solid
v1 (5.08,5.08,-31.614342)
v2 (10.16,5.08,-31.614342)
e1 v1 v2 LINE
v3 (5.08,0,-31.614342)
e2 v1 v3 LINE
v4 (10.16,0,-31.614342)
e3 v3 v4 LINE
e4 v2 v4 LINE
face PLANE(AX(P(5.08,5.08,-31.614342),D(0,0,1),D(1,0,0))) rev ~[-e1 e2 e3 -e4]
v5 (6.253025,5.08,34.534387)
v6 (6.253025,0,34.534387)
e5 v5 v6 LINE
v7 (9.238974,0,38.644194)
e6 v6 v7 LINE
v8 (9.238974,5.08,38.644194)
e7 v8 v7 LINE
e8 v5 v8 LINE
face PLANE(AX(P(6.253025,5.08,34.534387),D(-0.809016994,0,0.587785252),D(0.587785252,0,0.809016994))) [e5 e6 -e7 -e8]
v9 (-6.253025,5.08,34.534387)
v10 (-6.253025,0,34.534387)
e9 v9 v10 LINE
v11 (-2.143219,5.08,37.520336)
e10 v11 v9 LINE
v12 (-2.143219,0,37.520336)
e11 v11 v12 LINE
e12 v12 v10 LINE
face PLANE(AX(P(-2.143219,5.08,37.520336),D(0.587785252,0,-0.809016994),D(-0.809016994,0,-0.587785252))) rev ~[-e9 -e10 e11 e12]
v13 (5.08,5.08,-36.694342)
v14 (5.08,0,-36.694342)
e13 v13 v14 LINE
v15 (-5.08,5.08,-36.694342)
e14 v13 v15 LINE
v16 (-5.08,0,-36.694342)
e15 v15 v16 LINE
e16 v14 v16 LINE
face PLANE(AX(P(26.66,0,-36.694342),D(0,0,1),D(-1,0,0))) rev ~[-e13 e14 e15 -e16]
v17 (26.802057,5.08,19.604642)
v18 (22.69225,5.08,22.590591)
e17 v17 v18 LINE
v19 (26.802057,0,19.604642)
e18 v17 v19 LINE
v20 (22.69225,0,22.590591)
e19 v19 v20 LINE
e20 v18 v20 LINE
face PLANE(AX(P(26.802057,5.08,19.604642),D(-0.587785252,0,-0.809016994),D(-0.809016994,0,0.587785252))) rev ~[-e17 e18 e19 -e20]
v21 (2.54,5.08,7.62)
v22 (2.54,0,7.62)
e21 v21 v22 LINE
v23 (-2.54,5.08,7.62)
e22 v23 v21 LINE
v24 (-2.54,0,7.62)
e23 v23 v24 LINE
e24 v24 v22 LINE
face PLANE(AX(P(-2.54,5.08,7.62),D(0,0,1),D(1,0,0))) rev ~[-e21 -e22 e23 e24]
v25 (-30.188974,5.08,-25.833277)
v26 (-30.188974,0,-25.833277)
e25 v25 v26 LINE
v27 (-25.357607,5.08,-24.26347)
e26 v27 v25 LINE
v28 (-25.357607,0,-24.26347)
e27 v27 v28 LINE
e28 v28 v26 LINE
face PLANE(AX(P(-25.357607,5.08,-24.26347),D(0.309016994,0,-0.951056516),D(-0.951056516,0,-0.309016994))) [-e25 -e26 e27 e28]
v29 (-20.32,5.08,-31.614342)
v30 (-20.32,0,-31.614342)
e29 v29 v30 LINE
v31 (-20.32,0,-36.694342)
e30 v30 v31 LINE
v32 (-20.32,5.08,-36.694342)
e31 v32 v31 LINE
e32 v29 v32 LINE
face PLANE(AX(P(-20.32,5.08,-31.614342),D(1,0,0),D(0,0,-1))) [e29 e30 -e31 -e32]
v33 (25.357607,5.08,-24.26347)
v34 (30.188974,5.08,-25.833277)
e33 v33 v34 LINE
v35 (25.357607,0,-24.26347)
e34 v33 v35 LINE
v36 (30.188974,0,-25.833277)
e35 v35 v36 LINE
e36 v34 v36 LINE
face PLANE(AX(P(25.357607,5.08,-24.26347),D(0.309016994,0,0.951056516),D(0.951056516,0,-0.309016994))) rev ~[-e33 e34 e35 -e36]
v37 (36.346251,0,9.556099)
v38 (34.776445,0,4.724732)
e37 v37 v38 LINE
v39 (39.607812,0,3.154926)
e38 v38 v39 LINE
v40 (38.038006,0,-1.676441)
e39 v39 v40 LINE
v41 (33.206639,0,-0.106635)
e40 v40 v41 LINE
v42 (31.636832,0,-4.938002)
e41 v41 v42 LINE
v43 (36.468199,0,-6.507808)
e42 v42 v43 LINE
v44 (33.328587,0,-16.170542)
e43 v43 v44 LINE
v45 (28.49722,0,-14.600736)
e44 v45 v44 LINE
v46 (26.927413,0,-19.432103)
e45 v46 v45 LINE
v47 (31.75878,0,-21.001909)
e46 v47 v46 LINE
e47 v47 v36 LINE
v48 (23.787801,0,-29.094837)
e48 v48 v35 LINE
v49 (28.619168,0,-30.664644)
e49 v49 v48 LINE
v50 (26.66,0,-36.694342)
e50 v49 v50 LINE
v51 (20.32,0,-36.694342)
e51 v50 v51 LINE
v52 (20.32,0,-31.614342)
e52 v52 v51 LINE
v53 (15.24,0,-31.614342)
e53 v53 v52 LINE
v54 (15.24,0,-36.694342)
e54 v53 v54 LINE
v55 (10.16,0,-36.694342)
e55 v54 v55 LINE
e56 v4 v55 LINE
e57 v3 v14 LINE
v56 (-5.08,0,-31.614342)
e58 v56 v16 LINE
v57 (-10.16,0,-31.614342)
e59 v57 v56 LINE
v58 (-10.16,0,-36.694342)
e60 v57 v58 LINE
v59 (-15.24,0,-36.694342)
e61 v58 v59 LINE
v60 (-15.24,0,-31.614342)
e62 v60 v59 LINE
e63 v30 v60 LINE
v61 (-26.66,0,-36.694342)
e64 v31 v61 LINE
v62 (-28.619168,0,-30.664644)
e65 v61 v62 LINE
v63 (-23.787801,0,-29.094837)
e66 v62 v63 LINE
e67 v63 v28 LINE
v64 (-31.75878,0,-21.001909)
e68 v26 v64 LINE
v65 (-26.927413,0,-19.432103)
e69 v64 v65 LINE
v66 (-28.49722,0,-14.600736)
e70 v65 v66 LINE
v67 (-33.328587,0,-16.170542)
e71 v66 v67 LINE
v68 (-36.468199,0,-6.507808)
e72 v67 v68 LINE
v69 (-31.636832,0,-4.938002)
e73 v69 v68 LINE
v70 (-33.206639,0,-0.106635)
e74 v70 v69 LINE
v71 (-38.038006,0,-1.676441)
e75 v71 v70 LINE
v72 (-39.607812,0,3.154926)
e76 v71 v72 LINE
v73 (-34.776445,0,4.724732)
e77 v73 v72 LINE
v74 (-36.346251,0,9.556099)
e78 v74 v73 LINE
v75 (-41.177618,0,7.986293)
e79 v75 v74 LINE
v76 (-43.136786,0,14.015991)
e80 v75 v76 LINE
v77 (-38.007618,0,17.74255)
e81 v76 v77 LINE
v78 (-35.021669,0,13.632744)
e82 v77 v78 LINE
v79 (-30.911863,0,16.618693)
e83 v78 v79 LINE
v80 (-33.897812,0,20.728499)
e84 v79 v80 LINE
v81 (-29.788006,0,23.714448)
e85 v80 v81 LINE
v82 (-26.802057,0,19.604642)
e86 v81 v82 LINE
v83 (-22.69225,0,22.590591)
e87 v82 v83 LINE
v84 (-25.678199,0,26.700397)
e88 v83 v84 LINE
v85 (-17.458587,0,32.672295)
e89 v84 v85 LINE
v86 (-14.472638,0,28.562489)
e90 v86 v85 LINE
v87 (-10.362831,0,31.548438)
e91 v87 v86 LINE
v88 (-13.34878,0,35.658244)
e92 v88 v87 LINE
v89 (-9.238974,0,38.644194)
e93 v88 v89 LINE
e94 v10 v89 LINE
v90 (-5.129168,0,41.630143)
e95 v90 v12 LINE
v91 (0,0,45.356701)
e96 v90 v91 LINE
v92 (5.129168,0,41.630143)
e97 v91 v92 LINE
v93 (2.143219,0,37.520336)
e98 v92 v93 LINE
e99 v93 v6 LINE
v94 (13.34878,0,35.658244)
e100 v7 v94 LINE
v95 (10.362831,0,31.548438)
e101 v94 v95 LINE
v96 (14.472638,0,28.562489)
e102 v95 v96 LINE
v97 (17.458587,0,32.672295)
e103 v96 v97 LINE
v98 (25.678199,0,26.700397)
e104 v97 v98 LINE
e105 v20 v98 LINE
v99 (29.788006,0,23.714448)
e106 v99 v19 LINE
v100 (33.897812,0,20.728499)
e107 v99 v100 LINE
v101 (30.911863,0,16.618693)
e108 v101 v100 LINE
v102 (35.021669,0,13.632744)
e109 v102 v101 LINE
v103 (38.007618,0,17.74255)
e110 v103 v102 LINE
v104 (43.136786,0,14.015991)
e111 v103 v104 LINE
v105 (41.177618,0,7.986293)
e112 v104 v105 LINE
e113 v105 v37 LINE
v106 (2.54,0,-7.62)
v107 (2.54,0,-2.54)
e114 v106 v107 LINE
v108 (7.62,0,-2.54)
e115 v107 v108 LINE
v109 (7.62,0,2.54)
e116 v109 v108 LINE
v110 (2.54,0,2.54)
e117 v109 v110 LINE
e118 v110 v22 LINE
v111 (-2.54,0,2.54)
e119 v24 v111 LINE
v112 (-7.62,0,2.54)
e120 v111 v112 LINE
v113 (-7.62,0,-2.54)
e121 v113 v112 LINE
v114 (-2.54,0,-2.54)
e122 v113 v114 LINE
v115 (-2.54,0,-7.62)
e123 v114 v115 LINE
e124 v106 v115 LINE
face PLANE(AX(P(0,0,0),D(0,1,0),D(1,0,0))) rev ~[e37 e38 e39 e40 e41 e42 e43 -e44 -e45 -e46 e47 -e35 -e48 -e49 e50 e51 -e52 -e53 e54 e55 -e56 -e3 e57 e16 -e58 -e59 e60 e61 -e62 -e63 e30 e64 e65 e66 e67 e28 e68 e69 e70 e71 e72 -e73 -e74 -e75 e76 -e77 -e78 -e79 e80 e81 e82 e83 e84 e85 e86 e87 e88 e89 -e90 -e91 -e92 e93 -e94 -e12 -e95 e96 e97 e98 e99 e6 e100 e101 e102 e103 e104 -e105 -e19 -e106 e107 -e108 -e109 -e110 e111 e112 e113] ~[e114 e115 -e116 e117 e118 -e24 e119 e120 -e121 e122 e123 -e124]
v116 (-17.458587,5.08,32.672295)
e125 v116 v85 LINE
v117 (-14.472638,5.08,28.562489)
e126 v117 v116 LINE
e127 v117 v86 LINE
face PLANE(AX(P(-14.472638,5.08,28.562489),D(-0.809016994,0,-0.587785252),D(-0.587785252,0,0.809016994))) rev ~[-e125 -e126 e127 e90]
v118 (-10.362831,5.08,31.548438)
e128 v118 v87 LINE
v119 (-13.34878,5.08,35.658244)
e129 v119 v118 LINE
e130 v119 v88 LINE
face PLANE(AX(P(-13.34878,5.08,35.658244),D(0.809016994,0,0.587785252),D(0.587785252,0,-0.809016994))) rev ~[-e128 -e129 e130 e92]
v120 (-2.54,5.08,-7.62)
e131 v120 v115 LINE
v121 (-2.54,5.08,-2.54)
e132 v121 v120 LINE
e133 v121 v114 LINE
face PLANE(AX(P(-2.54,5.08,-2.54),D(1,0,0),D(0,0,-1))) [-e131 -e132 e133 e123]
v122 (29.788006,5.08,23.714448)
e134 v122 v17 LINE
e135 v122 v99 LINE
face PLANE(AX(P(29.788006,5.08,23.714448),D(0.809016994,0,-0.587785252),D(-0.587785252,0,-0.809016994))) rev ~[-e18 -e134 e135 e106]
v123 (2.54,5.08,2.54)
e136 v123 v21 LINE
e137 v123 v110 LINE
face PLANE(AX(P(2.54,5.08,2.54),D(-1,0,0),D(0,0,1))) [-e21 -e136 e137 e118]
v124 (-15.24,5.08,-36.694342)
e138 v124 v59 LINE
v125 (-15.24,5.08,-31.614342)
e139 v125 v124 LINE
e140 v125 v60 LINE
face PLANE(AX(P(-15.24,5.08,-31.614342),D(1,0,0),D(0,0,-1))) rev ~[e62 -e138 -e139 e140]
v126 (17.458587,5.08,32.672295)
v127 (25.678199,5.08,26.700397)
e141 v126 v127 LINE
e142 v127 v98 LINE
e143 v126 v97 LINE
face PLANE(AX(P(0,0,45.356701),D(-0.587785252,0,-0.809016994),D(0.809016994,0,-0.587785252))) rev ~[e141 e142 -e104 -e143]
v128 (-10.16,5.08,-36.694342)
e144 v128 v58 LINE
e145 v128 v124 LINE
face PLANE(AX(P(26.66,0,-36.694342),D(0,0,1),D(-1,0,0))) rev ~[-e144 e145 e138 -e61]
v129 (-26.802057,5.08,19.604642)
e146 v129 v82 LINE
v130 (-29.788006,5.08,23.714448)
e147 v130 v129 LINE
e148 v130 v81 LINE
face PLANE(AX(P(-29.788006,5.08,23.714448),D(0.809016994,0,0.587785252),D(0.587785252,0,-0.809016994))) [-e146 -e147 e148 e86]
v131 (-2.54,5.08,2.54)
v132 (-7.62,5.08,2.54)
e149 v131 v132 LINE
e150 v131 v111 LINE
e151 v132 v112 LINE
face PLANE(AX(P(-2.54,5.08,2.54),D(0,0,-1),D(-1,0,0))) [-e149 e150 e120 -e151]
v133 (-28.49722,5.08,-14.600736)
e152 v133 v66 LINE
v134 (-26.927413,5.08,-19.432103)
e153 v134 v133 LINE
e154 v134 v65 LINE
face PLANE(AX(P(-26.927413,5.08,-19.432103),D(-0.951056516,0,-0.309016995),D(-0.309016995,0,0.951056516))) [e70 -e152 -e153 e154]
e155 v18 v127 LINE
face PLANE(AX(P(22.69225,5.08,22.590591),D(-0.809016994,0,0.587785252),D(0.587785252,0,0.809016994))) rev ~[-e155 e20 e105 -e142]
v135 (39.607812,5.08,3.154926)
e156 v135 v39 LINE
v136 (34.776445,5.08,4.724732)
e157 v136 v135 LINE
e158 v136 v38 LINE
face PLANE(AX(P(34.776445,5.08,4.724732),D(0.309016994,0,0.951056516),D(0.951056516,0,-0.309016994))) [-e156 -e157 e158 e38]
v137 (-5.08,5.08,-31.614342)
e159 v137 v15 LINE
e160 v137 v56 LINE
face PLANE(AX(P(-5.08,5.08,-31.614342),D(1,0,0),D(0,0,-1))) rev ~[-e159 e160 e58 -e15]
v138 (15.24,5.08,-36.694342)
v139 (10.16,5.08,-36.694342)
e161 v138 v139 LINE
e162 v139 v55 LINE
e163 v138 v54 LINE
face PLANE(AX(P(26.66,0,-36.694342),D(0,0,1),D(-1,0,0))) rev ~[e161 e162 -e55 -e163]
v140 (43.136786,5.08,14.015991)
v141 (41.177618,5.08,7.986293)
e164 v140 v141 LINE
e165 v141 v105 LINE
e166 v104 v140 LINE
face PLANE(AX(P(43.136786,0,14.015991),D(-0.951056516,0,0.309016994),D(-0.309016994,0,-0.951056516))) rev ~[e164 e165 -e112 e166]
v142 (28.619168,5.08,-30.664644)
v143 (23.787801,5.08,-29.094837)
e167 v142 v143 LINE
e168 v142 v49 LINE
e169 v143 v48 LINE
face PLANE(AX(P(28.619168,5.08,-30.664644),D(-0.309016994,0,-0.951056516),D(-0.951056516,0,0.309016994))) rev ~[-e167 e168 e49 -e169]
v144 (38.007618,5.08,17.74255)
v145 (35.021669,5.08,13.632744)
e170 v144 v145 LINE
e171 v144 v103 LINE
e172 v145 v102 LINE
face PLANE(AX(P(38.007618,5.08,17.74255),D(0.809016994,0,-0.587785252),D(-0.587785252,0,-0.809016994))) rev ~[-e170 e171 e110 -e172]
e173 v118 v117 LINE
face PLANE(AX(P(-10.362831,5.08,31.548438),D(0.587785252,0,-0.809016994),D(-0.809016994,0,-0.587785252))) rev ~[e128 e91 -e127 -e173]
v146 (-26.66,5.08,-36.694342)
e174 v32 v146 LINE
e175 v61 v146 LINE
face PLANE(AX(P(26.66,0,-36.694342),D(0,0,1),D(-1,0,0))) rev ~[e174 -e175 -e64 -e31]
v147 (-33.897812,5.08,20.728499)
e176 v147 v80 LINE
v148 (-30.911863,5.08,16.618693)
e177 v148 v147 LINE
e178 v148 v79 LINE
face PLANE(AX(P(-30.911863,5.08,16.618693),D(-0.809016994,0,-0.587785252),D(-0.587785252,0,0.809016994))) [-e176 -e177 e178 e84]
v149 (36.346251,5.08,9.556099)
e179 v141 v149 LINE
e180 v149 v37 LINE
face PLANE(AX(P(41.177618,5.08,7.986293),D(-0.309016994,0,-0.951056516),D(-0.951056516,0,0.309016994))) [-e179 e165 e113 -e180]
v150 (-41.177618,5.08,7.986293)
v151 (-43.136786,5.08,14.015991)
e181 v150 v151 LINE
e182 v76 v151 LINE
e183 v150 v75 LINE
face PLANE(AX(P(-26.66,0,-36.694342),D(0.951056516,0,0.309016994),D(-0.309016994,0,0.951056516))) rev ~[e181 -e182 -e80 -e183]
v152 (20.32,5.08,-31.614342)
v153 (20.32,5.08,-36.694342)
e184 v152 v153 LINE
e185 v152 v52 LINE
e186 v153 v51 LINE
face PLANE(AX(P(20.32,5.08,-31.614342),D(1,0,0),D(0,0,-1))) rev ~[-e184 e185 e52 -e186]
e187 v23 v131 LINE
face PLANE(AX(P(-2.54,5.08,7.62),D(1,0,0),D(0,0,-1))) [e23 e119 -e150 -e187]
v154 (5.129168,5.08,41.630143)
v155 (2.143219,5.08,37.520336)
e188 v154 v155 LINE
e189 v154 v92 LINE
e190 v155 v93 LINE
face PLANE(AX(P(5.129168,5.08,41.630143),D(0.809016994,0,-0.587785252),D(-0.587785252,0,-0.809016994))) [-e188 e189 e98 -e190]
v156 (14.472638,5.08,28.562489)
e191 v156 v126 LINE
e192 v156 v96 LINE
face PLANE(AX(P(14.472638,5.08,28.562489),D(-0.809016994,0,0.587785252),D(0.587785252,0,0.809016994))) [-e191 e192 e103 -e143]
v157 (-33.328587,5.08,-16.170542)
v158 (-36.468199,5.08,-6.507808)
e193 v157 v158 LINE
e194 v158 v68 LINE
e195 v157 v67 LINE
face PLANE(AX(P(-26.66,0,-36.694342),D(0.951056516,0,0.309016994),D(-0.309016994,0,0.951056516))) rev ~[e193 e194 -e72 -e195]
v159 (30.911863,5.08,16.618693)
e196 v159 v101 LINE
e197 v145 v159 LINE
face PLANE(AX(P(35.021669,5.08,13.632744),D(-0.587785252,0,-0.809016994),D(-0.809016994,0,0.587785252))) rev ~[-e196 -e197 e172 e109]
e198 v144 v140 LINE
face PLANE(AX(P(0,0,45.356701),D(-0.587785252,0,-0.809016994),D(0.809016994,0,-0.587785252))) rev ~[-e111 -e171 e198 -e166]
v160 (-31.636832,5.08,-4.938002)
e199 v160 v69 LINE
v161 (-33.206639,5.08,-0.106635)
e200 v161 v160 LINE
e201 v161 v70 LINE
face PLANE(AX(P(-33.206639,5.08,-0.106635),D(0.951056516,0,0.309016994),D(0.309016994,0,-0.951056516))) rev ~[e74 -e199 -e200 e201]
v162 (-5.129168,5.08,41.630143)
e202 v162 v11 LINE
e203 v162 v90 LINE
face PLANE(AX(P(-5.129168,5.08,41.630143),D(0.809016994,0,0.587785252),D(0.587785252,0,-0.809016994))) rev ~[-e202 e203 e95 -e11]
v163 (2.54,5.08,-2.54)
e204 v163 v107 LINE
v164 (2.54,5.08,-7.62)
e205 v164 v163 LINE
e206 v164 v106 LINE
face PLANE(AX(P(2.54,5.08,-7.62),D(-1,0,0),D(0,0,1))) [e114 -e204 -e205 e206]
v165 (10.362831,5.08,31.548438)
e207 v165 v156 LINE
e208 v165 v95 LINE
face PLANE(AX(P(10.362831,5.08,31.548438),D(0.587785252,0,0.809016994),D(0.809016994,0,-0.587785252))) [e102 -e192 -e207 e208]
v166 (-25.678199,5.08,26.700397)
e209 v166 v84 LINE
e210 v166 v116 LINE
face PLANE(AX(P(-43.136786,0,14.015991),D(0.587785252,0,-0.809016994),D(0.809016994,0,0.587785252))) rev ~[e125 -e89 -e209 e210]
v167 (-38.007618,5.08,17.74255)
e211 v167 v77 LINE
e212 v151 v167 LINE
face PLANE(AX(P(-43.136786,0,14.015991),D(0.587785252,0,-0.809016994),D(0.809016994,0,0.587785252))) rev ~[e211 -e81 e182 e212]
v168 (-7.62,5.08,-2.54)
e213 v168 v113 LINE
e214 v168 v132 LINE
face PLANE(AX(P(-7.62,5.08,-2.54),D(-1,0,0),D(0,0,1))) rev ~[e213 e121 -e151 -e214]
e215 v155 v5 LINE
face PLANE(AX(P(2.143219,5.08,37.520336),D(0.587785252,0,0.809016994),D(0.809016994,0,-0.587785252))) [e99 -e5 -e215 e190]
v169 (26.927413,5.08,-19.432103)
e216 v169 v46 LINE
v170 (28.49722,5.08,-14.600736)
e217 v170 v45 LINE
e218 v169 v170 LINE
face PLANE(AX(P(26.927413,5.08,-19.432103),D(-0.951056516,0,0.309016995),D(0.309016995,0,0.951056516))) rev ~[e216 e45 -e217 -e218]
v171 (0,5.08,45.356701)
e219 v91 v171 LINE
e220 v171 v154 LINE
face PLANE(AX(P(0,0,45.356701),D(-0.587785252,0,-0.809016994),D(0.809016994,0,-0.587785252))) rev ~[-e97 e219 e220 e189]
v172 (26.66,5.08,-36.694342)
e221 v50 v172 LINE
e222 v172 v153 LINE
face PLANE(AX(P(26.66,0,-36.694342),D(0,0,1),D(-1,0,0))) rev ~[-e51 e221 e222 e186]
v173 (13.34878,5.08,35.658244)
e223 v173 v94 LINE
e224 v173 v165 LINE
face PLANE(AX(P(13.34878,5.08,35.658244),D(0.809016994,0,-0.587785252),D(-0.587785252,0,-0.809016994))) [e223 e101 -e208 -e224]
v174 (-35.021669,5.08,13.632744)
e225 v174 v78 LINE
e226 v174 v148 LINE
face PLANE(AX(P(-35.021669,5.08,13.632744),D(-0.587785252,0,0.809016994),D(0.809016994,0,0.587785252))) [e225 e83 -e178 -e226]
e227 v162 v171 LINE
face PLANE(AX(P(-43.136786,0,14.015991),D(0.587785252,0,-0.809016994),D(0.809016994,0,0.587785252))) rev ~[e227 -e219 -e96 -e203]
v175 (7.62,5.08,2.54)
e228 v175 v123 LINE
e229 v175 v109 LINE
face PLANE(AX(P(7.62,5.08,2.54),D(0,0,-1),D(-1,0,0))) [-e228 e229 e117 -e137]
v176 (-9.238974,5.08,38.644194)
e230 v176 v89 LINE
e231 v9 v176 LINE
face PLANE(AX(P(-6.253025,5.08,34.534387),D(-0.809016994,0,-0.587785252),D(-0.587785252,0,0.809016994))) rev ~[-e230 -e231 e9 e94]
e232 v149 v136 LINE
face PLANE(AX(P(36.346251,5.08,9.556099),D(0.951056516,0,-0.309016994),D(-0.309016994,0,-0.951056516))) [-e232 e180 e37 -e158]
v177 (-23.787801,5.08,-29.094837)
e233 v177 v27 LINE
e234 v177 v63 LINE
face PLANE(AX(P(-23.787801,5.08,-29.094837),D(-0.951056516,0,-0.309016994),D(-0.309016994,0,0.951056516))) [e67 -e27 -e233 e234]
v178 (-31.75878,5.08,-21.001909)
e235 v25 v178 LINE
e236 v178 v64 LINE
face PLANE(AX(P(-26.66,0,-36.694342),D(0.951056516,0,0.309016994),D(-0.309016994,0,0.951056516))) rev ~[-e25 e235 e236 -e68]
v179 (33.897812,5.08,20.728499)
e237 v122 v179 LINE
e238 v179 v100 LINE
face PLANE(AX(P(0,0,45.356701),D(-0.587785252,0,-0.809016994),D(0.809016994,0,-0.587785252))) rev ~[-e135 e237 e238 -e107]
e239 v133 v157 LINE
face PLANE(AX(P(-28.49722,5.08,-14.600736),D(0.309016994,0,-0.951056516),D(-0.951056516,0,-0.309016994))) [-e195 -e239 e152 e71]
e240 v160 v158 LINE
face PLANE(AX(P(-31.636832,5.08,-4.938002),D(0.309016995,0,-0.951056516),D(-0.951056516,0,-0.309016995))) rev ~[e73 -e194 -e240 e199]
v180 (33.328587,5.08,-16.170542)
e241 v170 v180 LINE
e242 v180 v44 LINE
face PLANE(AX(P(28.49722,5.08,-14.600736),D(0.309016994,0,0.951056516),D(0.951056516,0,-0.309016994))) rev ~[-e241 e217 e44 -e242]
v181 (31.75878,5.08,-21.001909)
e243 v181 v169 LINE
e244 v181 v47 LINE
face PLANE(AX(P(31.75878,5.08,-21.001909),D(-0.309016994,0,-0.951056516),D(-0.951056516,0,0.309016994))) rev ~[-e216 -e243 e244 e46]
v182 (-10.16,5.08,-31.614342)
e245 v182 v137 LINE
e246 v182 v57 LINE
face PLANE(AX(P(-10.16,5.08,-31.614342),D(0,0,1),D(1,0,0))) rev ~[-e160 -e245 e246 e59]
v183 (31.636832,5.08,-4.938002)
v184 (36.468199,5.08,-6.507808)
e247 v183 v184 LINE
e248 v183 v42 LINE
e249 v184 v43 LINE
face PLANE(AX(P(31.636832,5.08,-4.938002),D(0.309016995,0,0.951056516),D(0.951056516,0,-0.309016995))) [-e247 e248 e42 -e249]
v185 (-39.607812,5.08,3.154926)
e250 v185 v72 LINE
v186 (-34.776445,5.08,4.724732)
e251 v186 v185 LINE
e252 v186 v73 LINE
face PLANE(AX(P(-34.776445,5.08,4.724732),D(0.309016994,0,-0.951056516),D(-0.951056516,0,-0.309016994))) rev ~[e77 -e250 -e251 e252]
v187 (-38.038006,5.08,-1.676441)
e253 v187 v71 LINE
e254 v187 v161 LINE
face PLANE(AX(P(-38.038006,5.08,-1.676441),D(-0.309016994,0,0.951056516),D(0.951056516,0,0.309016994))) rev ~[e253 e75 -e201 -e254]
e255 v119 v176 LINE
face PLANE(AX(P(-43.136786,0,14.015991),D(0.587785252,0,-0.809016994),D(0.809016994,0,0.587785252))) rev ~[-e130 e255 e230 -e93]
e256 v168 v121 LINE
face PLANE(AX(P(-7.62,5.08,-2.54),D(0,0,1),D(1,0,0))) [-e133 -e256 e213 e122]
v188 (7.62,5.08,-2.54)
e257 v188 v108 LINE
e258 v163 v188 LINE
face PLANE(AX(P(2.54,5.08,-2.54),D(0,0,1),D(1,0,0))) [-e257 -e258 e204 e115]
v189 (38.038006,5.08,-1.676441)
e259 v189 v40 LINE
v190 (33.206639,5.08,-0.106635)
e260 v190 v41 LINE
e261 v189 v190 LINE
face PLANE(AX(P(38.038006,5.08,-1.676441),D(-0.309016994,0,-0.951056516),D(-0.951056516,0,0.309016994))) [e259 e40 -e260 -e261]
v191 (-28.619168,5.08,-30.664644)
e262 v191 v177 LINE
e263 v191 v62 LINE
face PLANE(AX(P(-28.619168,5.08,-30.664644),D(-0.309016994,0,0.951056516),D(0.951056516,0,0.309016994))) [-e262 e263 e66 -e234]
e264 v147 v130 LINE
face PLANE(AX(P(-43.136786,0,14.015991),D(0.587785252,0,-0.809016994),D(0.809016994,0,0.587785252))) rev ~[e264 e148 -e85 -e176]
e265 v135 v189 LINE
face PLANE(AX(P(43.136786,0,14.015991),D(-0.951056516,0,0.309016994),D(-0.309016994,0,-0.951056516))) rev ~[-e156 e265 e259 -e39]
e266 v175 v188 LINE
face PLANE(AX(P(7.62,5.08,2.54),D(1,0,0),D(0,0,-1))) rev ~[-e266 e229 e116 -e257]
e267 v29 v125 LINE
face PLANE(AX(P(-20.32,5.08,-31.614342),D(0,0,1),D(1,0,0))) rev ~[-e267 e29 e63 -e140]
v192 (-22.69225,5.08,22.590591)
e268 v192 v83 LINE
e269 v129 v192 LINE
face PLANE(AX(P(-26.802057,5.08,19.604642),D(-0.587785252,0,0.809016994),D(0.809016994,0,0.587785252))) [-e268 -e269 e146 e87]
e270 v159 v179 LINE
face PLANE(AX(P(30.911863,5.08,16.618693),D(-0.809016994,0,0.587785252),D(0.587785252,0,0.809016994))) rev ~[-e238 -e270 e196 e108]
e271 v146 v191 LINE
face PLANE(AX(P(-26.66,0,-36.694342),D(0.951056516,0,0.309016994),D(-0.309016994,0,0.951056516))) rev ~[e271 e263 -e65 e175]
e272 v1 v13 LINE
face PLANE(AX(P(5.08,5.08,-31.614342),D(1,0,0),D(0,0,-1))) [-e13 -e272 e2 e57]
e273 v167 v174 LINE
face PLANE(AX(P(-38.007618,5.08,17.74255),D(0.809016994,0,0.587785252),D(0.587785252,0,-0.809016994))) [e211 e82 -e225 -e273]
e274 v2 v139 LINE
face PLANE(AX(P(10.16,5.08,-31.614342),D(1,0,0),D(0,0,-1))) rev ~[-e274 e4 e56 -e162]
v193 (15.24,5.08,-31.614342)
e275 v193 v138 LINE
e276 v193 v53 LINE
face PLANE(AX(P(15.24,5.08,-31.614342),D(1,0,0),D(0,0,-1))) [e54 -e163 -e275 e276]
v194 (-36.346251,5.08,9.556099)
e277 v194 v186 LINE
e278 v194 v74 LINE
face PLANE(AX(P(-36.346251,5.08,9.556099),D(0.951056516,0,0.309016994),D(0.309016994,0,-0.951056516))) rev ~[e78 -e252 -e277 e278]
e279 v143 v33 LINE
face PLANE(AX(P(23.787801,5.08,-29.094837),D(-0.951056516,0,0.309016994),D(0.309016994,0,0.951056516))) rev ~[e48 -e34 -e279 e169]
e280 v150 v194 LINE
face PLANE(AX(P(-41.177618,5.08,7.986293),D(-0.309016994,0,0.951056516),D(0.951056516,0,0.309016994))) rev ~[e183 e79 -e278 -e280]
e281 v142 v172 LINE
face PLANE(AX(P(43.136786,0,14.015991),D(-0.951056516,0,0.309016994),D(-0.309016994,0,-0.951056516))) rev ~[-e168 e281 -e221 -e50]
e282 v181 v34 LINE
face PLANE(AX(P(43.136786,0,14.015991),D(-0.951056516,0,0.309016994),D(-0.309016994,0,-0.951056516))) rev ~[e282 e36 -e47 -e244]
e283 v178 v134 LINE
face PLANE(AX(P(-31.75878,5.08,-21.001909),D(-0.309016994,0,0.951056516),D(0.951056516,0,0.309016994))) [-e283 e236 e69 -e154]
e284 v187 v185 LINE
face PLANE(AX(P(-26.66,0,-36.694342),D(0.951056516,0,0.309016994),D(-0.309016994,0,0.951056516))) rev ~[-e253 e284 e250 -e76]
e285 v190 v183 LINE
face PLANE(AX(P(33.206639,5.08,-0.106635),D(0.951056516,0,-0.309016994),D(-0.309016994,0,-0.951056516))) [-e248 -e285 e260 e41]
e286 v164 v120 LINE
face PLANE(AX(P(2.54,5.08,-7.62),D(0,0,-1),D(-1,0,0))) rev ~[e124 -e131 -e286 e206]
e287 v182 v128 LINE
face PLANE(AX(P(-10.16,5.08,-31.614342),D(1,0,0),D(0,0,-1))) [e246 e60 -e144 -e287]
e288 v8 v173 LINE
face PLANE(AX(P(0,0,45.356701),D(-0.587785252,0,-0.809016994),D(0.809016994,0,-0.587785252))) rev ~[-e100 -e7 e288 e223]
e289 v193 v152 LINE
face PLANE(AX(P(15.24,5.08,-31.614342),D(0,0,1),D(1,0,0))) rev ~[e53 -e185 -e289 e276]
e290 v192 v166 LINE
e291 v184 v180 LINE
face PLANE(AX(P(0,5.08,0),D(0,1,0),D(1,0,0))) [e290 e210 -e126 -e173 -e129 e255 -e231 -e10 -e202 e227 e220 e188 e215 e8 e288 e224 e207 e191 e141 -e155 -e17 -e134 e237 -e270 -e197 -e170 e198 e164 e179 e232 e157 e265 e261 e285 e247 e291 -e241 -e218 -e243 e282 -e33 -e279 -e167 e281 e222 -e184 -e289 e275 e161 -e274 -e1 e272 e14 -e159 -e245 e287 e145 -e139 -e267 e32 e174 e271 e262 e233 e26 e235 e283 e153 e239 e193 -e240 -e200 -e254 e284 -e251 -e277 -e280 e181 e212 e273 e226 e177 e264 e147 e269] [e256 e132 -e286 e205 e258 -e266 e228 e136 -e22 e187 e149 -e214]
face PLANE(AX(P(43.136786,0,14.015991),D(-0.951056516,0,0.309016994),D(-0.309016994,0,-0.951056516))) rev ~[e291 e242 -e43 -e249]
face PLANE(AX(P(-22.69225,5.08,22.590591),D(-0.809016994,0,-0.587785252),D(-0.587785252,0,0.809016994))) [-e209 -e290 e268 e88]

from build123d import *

# Parameters (mm, degrees)
BOSS_EXTRUDE1_DEPTH = 5.08
SKETCH2_W           = 5.08
SKETCH2_H           = 5.08
CUT_EXTRUDE1_DEPTH  = 5.08
CUT_EXTRUDE2_DEPTH  = 5.08


with BuildPart() as part:
    # Sketch1 → Boss-Extrude1 (new body)
    with BuildSketch(Plane(origin=(0, 0, 0), x_dir=(1, 0, 0), z_dir=(0, 1, 0))):
        Polygon((0, -45.356701101), (43.13678614, -14.015991449), (26.66, 36.694342), (-26.66, 36.694342), (-43.13678614, -14.015991449), align=None)
    extrude(amount=BOSS_EXTRUDE1_DEPTH)

    # Sketch2 → Cut-Extrude1 (cut)
    with BuildSketch(Plane(origin=(0, 5.08, 0), x_dir=(1, 0, 0), z_dir=(0, 1, 0))):
        with Locations((-17.78, 34.154342)):
            Rectangle(SKETCH2_W, SKETCH2_H)
        with Locations((7.62, 34.154342)):
            Rectangle(SKETCH2_W, SKETCH2_H)
        with Locations((17.78, 34.154342)):
            Rectangle(SKETCH2_W, SKETCH2_H)
        with Locations((-7.62, 34.154342)):
            Rectangle(SKETCH2_W, SKETCH2_H)
        Polygon((28.619167744, 30.664643686), (23.787800642, 29.094837355), (25.357606973, 24.263470252), (30.188974076, 25.833276584), align=None)
        Polygon((36.468199401, 6.507808173), (38.038005733, 1.67644107), (33.20663863, 0.106634738), (31.636832299, 4.938001841), align=None)
        Polygon((39.607812064, -3.154926033), (41.177618396, -7.986293136), (36.346251293, -9.556099467), (34.776444962, -4.724732364), align=None)
        Polygon((31.758780407, 21.001909481), (26.927413304, 19.432103149), (28.497219636, 14.600736047), (33.328586739, 16.170542378), align=None)
        Polygon((38.007618396, -17.742549949), (35.021669314, -13.632743617), (30.911862983, -16.618692699), (33.897812064, -20.72849903), align=None)
        Polygon((17.458586739, -32.672295357), (13.348780407, -35.658244439), (10.362831326, -31.548438107), (14.472637657, -28.562489025), align=None)
        Polygon((9.238974076, -38.64419352), (5.129167744, -41.630142602), (2.143218663, -37.52033627), (6.253024994, -34.534387189), align=None)
        Polygon((29.788005733, -23.714448112), (26.802056651, -19.60464178), (22.69225032, -22.590590862), (25.678199401, -26.700397194), align=None)
        Polygon((-5.129167744, -41.630142602), (-2.143218663, -37.52033627), (-6.253024994, -34.534387189), (-9.238974076, -38.64419352), align=None)
        Polygon((-25.678199401, -26.700397194), (-29.788005733, -23.714448112), (-26.802056651, -19.60464178), (-22.69225032, -22.590590862), align=None)
        Polygon((-33.897812064, -20.72849903), (-38.007618396, -17.742549949), (-35.021669314, -13.632743617), (-30.911862983, -16.618692699), align=None)
        Polygon((-13.348780407, -35.658244439), (-10.362831326, -31.548438107), (-14.472637657, -28.562489025), (-17.458586739, -32.672295357), align=None)
        Polygon((-41.177618396, -7.986293136), (-36.346251293, -9.556099467), (-34.776444962, -4.724732364), (-39.607812064, -3.154926033), align=None)
        Polygon((-33.328586739, 16.170542378), (-31.758780407, 21.001909481), (-26.927413304, 19.432103149), (-28.497219636, 14.600736047), align=None)
        Polygon((-30.188974076, 25.833276584), (-28.619167744, 30.664643686), (-23.787800642, 29.094837355), (-25.357606973, 24.263470252), align=None)
        Polygon((-38.038005733, 1.67644107), (-33.20663863, 0.106634738), (-31.636832299, 4.938001841), (-36.468199401, 6.507808173), align=None)
    extrude(amount=-CUT_EXTRUDE1_DEPTH, mode=Mode.SUBTRACT)

    # Sketch3 → Cut-Extrude2 (cut)
    with BuildSketch(Plane(origin=(0, 5.08, 0), x_dir=(1, 0, 0), z_dir=(0, 1, 0))):
        Polygon((0, 7.62), (2.54, 7.62), (2.54, 2.54), (7.62, 2.54), (7.62, 0), (7.62, -2.54), (2.54, -2.54), (2.54, -7.62), (0, -7.62), (-2.54, -7.62), (-2.54, -2.54), (-7.62, -2.54), (-7.62, 0), (-7.62, 2.54), (-2.54, 2.54), (-2.54, 7.62), align=None)
    extrude(amount=-CUT_EXTRUDE2_DEPTH, mode=Mode.SUBTRACT)


solid = part.part
